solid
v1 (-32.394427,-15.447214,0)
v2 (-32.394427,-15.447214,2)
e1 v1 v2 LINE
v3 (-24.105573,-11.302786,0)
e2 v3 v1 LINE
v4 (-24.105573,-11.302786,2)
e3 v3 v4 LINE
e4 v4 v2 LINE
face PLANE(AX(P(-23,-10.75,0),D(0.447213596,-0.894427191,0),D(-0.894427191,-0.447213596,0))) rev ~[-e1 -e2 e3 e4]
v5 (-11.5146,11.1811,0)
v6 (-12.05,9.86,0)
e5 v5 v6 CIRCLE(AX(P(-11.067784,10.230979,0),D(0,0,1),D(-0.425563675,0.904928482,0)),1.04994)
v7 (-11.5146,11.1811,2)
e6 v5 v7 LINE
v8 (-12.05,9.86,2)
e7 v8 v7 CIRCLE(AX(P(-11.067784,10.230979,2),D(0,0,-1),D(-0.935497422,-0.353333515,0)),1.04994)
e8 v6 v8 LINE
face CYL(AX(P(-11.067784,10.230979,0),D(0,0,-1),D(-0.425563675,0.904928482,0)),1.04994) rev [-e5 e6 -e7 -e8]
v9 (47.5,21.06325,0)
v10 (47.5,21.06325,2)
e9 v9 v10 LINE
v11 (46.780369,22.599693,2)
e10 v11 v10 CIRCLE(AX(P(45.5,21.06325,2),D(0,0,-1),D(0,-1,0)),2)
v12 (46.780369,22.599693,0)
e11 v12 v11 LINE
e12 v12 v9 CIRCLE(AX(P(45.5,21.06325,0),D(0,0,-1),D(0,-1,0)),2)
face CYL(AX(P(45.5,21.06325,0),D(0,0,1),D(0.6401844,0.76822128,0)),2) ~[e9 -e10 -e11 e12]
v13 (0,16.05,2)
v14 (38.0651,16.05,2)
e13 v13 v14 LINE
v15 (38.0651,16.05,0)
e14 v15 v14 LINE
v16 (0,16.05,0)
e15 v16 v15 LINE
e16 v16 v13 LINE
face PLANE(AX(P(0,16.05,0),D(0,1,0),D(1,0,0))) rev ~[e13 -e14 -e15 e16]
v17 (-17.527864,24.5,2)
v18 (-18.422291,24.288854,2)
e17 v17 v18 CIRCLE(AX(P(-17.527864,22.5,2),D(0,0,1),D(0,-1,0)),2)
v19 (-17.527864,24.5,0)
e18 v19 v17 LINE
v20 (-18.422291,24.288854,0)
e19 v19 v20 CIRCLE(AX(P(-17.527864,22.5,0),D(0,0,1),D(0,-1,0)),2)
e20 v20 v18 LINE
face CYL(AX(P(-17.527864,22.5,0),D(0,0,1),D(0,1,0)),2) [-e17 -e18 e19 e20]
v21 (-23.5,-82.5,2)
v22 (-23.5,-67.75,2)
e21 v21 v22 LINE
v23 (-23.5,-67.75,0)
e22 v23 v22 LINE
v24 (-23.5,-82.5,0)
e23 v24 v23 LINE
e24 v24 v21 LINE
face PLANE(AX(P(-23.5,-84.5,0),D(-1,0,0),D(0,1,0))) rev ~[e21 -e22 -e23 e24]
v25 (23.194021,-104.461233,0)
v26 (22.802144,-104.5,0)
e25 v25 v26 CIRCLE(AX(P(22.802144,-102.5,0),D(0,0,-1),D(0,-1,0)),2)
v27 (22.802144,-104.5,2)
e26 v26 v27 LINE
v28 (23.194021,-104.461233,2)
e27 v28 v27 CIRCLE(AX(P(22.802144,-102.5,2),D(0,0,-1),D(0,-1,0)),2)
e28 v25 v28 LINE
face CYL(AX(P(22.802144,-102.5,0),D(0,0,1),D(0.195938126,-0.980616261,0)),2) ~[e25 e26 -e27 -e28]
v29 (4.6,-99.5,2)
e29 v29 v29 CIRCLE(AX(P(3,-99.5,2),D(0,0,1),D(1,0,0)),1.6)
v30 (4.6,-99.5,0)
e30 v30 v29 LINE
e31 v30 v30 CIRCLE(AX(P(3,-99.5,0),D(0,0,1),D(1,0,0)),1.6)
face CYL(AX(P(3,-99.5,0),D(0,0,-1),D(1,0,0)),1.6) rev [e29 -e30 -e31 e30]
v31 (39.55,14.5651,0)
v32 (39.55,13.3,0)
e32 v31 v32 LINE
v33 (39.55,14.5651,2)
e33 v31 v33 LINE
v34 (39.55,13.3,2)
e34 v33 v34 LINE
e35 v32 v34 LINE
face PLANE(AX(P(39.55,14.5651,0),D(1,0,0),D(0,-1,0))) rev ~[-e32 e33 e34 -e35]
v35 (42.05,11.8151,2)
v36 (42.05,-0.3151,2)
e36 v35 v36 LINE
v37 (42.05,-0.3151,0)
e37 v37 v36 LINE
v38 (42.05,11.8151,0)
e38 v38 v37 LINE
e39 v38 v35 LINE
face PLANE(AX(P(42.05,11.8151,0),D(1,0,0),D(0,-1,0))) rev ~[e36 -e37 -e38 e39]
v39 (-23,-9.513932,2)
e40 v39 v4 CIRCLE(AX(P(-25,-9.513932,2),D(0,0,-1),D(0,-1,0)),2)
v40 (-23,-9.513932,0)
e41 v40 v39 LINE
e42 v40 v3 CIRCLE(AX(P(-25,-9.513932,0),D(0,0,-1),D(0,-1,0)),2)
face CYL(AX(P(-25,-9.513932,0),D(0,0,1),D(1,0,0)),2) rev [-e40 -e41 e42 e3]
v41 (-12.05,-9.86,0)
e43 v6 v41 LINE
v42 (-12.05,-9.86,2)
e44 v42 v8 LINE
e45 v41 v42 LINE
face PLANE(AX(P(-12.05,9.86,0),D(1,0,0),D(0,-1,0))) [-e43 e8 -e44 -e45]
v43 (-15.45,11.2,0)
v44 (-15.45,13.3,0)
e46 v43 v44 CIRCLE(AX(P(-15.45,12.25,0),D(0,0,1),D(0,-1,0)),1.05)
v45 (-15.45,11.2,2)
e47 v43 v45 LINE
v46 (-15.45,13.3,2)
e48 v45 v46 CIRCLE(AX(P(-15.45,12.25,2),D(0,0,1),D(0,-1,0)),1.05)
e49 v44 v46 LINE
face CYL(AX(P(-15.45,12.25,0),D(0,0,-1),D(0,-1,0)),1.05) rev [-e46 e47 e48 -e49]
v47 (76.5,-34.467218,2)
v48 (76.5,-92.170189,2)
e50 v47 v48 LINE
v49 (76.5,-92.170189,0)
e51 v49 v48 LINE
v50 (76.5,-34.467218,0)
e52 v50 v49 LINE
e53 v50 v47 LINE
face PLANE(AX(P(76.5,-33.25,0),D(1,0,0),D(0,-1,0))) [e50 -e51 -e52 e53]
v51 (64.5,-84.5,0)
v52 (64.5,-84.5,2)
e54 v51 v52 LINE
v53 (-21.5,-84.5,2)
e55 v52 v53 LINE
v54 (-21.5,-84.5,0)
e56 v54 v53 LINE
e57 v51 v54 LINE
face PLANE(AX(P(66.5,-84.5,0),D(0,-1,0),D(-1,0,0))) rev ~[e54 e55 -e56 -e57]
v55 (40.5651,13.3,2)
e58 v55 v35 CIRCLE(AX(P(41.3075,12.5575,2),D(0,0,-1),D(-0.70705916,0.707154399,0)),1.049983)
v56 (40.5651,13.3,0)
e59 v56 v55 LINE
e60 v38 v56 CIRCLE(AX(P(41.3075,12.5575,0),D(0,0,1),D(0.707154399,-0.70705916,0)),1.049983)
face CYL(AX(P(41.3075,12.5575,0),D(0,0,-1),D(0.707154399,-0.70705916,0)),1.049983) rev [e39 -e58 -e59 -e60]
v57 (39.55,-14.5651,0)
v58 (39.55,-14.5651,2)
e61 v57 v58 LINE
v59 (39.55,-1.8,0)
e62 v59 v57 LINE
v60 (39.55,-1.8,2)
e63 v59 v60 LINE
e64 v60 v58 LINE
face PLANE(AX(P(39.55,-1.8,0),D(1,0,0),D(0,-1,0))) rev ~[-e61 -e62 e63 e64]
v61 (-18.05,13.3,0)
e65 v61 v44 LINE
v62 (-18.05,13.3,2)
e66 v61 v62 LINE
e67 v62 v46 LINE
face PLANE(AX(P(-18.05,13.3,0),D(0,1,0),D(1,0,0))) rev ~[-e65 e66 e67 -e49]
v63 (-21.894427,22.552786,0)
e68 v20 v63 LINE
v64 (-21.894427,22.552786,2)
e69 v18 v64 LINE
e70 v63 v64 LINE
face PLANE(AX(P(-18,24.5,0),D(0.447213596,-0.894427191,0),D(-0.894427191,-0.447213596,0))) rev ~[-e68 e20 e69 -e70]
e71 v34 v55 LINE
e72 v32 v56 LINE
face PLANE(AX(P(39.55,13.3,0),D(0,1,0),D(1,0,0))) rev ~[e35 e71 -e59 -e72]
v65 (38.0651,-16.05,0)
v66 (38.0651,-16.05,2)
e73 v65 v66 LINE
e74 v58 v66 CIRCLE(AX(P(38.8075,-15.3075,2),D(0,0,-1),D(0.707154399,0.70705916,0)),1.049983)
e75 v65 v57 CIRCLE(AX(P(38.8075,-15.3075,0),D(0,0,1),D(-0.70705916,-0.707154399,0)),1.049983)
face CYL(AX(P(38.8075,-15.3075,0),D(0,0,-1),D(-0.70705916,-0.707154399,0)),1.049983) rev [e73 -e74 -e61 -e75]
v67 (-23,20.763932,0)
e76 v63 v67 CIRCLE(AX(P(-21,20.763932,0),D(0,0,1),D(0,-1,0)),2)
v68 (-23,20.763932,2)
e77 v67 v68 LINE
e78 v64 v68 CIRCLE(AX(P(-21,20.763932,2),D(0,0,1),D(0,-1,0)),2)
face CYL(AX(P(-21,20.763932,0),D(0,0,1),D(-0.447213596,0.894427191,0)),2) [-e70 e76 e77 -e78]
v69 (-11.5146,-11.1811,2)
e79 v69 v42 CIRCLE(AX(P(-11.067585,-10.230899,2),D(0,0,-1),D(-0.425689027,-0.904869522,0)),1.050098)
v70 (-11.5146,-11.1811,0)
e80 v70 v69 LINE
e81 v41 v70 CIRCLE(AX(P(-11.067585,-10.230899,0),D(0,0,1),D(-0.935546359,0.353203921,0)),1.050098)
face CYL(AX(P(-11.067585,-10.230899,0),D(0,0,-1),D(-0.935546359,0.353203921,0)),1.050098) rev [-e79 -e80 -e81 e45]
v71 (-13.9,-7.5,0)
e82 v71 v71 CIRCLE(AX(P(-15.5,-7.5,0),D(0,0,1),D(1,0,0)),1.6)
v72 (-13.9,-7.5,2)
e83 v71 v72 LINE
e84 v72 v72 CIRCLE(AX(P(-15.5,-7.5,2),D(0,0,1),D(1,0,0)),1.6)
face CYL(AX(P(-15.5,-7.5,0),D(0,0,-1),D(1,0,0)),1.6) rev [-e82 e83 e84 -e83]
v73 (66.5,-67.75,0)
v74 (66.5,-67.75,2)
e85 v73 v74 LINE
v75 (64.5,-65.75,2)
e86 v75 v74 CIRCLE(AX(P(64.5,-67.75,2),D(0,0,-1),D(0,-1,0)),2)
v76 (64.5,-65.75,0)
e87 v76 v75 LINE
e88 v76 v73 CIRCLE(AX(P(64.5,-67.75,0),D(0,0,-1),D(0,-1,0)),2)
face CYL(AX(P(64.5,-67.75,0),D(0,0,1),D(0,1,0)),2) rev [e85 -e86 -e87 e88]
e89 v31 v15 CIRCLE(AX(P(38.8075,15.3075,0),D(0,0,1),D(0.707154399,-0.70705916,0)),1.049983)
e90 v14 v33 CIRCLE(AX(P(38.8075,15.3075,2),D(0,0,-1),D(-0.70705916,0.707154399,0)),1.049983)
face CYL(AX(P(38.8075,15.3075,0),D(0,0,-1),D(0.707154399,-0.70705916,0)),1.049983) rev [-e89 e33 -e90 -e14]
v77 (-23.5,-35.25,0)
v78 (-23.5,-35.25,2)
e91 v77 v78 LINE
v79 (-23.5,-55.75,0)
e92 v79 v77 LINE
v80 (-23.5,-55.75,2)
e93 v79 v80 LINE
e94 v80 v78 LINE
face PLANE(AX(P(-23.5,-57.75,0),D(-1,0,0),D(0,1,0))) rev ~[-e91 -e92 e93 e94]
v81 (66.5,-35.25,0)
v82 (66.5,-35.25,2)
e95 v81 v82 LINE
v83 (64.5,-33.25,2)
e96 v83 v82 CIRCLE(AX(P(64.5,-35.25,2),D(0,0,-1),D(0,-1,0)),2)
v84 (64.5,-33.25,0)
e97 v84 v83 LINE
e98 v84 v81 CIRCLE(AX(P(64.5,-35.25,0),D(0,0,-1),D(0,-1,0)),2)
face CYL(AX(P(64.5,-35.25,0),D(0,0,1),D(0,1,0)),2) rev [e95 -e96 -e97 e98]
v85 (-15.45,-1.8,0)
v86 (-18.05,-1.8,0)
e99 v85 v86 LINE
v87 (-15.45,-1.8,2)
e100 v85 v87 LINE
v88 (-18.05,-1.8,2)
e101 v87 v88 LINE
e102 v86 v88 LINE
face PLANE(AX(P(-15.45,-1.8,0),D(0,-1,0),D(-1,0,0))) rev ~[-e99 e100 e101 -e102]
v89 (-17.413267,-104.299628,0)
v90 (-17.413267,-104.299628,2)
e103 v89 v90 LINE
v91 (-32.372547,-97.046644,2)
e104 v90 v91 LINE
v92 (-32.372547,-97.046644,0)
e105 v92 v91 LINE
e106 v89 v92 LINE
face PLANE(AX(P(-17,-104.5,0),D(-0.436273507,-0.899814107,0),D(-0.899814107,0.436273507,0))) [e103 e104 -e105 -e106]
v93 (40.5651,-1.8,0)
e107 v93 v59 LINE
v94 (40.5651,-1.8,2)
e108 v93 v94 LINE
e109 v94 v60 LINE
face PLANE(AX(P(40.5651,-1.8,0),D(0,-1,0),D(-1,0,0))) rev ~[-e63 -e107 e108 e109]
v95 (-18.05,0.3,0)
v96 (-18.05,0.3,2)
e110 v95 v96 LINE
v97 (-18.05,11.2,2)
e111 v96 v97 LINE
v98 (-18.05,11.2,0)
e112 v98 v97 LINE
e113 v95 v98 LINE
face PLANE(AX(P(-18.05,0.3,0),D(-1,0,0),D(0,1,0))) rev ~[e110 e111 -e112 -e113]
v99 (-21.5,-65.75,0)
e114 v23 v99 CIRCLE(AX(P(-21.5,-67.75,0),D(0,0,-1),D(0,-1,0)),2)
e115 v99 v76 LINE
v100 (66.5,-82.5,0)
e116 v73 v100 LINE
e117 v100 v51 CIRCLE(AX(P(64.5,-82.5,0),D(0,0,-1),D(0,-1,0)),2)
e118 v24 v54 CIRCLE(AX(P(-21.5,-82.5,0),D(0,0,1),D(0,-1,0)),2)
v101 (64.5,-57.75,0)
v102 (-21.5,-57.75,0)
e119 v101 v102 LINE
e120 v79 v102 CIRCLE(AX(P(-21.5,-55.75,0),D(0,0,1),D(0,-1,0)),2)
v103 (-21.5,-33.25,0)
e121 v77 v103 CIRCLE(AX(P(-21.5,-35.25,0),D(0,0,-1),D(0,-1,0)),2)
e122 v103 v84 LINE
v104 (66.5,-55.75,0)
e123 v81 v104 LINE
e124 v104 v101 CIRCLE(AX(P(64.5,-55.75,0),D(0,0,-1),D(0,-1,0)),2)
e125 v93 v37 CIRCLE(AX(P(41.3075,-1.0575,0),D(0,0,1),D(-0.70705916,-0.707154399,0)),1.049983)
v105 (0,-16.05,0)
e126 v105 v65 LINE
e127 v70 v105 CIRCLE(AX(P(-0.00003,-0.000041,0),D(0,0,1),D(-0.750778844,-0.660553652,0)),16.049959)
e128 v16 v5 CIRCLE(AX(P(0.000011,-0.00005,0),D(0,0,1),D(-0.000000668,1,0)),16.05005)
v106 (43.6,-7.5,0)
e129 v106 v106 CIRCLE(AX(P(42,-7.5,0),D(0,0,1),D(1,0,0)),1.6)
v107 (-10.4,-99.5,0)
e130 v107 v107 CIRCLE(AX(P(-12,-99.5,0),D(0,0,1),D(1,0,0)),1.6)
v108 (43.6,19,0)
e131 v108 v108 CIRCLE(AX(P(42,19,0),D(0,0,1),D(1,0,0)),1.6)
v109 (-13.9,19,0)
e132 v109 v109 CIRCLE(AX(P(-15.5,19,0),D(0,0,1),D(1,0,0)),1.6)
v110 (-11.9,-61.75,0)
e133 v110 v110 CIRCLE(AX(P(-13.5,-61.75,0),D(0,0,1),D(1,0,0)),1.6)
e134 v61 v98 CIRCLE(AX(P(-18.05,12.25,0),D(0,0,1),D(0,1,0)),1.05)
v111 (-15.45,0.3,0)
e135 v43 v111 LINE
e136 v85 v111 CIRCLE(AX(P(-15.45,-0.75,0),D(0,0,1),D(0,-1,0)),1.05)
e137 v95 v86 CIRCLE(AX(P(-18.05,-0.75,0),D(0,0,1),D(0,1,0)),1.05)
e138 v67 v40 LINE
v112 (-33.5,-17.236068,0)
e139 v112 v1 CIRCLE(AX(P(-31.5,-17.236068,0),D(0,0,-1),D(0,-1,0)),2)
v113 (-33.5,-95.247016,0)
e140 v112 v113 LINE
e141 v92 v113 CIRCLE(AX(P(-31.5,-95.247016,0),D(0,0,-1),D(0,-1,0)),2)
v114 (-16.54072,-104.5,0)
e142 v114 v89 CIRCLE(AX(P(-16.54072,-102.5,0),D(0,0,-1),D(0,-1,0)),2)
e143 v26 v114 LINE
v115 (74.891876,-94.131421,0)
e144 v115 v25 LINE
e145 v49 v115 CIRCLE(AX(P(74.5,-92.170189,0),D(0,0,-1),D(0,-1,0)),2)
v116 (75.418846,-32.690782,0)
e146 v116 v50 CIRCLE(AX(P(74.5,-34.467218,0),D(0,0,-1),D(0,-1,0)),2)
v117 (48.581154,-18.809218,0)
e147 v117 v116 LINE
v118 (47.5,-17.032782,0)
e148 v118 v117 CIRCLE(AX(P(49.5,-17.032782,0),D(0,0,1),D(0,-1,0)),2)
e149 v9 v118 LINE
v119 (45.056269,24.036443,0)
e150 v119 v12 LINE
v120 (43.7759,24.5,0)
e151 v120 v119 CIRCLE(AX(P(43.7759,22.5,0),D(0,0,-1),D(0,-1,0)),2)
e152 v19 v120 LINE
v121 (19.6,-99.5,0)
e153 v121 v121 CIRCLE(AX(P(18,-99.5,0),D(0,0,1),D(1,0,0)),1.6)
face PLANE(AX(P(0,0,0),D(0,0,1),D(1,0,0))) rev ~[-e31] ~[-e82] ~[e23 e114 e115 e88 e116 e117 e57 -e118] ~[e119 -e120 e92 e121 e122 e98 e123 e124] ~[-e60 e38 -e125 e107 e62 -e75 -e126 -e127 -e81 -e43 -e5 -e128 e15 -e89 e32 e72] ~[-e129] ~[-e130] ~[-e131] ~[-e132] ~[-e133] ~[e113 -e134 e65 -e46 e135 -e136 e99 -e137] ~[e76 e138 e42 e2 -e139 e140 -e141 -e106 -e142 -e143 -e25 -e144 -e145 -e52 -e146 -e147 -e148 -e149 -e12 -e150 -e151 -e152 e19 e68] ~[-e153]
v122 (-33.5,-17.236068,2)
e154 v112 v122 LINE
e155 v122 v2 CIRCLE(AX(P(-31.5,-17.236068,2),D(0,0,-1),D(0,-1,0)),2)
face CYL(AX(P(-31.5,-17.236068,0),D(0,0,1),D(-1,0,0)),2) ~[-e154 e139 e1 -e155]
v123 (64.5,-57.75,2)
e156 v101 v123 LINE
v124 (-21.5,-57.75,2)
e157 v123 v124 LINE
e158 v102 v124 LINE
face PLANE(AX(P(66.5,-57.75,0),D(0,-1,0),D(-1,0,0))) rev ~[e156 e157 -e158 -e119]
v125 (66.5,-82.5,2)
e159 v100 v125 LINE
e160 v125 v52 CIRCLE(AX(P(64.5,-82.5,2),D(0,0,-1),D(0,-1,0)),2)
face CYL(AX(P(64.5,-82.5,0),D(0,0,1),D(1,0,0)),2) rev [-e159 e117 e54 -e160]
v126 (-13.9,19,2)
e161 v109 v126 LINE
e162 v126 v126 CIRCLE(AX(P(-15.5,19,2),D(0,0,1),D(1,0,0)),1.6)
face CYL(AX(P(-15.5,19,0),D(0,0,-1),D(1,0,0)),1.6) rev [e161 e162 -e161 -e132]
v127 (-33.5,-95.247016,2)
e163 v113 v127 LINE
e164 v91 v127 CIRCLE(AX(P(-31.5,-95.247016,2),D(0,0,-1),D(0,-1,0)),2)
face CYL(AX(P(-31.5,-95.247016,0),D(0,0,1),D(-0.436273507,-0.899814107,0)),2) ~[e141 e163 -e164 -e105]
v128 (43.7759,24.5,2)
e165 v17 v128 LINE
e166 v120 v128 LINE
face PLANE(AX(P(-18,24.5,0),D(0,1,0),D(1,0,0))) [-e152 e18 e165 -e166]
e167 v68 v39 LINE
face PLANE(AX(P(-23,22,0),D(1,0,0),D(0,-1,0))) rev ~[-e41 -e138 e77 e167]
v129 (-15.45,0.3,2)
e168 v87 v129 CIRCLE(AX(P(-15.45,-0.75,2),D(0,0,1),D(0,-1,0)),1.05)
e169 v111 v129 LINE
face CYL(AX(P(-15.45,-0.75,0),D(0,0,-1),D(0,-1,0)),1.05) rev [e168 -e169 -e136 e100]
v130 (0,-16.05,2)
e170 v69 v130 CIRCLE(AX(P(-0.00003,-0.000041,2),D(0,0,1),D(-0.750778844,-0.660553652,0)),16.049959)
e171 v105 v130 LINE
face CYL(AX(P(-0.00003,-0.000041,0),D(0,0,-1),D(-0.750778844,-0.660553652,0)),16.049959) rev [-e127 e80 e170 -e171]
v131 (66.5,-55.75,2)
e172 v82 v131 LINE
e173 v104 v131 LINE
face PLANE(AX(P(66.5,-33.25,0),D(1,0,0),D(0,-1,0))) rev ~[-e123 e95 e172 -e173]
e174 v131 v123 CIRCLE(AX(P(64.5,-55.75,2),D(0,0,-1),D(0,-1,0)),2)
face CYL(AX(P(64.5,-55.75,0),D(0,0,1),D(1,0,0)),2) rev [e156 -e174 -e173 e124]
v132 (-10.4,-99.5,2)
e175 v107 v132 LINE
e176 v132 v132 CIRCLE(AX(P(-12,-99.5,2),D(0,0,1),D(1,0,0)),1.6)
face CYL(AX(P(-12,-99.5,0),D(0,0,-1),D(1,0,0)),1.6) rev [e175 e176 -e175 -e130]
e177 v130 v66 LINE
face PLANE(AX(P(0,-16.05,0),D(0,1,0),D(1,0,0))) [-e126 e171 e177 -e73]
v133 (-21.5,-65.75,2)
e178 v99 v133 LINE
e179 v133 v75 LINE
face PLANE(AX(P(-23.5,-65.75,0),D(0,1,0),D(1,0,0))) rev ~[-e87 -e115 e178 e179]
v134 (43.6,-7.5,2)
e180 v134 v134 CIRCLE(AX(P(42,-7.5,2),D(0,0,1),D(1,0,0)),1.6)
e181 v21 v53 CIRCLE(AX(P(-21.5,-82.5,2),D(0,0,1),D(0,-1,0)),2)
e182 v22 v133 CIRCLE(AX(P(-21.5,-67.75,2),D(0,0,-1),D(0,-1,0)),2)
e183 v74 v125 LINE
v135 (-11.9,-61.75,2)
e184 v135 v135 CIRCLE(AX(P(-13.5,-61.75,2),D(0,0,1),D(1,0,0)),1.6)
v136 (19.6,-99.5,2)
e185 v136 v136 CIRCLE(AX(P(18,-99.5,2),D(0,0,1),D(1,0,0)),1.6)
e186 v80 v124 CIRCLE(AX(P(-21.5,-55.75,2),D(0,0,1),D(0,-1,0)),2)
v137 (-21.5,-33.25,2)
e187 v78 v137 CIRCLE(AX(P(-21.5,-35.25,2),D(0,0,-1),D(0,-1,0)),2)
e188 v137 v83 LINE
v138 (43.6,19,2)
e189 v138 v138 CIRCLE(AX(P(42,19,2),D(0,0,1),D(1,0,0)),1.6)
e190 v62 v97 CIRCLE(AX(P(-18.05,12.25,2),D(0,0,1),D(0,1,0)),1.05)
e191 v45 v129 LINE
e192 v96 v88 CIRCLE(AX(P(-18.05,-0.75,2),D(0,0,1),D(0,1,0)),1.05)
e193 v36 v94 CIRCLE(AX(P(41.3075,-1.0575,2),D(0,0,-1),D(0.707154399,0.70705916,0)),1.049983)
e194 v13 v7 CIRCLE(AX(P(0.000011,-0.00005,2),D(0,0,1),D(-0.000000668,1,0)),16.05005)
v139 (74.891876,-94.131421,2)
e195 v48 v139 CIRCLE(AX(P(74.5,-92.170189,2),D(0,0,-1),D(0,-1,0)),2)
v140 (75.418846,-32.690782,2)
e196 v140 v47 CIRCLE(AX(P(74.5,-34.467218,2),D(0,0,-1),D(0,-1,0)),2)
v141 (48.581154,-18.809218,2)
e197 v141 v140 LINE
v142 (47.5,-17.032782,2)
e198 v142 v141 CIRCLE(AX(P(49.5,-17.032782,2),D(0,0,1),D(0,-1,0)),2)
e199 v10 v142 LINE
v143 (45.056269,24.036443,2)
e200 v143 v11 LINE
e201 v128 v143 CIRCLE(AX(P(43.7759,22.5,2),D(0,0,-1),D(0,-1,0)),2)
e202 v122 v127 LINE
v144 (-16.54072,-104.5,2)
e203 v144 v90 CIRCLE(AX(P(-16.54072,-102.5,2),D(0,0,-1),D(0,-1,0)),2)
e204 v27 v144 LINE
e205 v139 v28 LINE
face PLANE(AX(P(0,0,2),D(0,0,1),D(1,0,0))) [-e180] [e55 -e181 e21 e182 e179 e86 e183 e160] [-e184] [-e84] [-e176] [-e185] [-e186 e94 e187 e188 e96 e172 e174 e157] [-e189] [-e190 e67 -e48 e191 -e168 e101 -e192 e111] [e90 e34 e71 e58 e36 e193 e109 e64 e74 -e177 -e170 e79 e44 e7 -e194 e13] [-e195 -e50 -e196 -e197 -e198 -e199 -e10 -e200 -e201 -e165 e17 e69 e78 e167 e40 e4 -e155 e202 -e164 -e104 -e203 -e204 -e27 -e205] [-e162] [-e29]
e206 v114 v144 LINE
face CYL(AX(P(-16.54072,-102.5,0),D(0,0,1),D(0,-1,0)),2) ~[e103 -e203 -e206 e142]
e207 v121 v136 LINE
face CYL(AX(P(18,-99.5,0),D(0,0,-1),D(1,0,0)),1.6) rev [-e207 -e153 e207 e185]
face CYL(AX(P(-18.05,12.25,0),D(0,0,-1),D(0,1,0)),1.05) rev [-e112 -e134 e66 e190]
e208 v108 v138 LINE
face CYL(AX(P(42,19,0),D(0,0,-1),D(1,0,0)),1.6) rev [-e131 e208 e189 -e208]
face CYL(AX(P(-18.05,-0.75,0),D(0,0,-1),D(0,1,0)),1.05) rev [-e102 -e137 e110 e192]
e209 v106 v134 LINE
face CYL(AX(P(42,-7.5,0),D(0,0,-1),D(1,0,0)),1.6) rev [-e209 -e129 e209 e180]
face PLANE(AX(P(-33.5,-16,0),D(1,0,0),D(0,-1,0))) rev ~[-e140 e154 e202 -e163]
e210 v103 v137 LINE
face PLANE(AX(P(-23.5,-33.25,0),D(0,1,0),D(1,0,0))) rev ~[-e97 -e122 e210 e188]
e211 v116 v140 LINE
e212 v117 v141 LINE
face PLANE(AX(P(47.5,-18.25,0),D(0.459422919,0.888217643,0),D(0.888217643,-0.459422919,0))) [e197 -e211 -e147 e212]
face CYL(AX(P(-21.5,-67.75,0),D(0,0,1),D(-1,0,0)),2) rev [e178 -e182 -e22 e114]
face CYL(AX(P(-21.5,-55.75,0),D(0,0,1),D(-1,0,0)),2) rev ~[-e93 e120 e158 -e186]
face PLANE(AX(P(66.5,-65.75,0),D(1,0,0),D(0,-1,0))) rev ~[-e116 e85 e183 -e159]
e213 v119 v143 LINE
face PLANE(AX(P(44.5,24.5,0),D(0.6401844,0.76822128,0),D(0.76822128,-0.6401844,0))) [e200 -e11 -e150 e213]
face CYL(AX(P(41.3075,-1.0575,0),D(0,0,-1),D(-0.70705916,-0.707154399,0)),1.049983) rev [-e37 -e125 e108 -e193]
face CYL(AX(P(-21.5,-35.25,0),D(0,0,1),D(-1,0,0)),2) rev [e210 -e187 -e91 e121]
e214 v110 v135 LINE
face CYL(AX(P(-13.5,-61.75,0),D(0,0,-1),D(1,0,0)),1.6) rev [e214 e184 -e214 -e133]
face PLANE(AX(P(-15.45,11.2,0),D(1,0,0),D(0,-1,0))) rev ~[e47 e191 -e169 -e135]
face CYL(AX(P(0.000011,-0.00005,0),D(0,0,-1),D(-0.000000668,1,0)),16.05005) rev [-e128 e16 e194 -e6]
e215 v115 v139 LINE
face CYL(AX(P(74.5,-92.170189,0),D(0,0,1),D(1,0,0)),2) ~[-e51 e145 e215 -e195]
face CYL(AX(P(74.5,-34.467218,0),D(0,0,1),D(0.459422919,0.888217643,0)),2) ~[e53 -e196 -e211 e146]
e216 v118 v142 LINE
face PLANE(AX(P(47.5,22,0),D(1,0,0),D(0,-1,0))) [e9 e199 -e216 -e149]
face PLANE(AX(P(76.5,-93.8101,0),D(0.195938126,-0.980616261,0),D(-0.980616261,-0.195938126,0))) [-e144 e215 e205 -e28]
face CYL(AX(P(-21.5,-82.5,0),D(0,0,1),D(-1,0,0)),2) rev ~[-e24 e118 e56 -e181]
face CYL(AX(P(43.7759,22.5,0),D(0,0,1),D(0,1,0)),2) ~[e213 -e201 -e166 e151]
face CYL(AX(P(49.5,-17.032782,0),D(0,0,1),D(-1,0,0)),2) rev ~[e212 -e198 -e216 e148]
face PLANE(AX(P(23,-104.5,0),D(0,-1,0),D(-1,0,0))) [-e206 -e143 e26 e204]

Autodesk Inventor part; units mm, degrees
ref_plane "YZ Plane" through (0, 0, 0) normal (1, 0, 0) x (0, 1, 0)
ref_plane "XZ Plane" through (0, 0, 0) normal (0, 1, 0) x (-1, 0, 0)
ref_plane "XY Plane" through (0, 0, 0) normal (0, 0, 1) x (1, 0, 0)
sketch "スケッチ1" plane through (0, 0, 0) normal (0, 0, 1) x (1, 0, 0)
  circle A0 centre (0, 0) radius 11
  line L0 (-0.3073, 13.5) -> (26.6927, 13.5) construction
  line L1 (26.6927, 13.5) -> (26.6927, -13.5) construction
  line L2 (26.6927, -13.5) -> (-0.3073, -13.5) construction
  line L3 (-0.3073, -13.5) -> (-0.3073, 13.5) construction
  line L4 (-0.3073, 13.5) -> (26.6927, -13.5) construction
  line L5 (26.6927, 13.5) -> (-0.3073, -13.5) construction
  line L6 (-12, 16) -> (39.5, 16) construction
  line L7 (39.5, 16) -> (39.5, -16) construction
  line L8 (39.5, -16) -> (-12, -16) construction
  line L9 (-12, -16) -> (-12, 16) construction
  line L10 (-12, 16) -> (39.5, -16) construction
  line L11 (39.5, 16) -> (-12, -16) construction
  circle A1 centre (-0.3073, 13.5) radius 1.35
  arc A2 (0, 16) -> (-12, 10.583) centre (0, 0) ccw construction
  line L12 (-12, 0) -> (39.5, 0)
  circle A3 centre (26.6927, 13.5) radius 1.35
  arc A4 (-12, -10.583) -> (0, -16) centre (0, 0) ccw construction
  circle A5 centre (-0.3073, -13.5) radius 1.35
  circle A6 centre (26.6927, -13.5) radius 1.35
  arc A7 (0, 16.05) -> (-12.05, 10.6019) centre (0, 0) ccw
  line L13 (0, 16.05) -> (39.55, 16.05)
  line L14 (39.55, 16.05) -> (39.55, 13.3)
  line L15 (-12.05, 10.6019) -> (-12.05, 0)
  arc A8 (-11.5146, 11.1811) -> (-12.05, 9.86) centre (-11.0677, 10.2309) ccw
  line L16 (-12.05, 10.6019) -> (-11.0677, 10.2309) construction
  arc A9 (39.55, 14.5651) -> (38.0651, 16.05) centre (38.8075, 15.3075) ccw
  line L17 (38.8075, 15.3075) -> (39.55, 16.05) construction
  arc A10 (-12.05, -10.6019) -> (0, -16.05) centre (0, 0) ccw
  line L18 (0, -16.05) -> (39.55, -16.05)
  line L19 (-12.05, -10.6019) -> (-12.05, 0)
  arc A11 (-12.05, -9.86) -> (-11.5146, -11.1811) centre (-11.0677, -10.2309) ccw
  arc A12 (38.0651, -16.05) -> (39.55, -14.5651) centre (38.8075, -15.3075) ccw
  line L20 (39.55, 13.3) -> (42.05, 13.3)
  line L21 (42.05, 13.3) -> (42.05, -1.8)
  line L22 (42.05, -1.8) -> (39.55, -1.8)
  line L23 (39.55, -1.8) -> (39.55, -14.5651)
  line L24 (39.5, 13.25) -> (42, 13.25) construction
  line L25 (42, 13.25) -> (42, -1.75) construction
  line L26 (42, -1.75) -> (39.5, -1.75) construction
  line L27 (42, 5.75) -> (39.5, 5.75) construction
  arc A13 (42.05, 11.8151) -> (40.5651, 13.3) centre (41.3075, 12.5575) ccw
  line L28 (41.3075, 12.5575) -> (42.05, 13.3) construction
  arc A14 (40.5651, -1.8) -> (42.05, -0.3151) centre (41.3075, -1.0575) ccw
  circle A15 centre (-15.5, 19) radius 1.6
  line L29 (-18, 22) -> (-13, 22) construction
  line L30 (-13, 22) -> (-13, -10.5) construction
  line L31 (-13, -10.5) -> (-18, -10.5) construction
  line L32 (-18, -10.5) -> (-18, 22) construction
  line L33 (-18, 22) -> (-13, -10.5) construction
  line L34 (-13, 22) -> (-18, -10.5) construction
  line L35 (-18, 5.75) -> (-13, 5.75) construction
  line L36 (-15.5, 22) -> (-15.5, -10.5) construction
  line L37 (-18, 13.25) -> (-15.5, 13.25) construction
  line L38 (-15.5, 13.25) -> (-15.5, -1.75) construction
  line L39 (-15.5, -1.75) -> (-18, -1.75) construction
  line L40 (-18, 13.25) -> (-15.5, -1.75) construction
  line L41 (-15.5, 13.25) -> (-18, -1.75) construction
  line L42 (-15.45, -1.8) -> (-18.05, -1.8)
  line L43 (-18.05, -1.8) -> (-18.05, 13.3)
  line L44 (-18.05, 13.3) -> (-15.45, 13.3)
  line L45 (-15.45, 13.3) -> (-15.45, -1.8)
  line L46 (-15.45, -1.8) -> (-18.05, 13.3) construction
  line L47 (-18.05, -1.8) -> (-15.45, 13.3) construction
  line L48 (-16.75, 13.3) -> (-16.75, -1.8) construction
  arc A16 (-18.05, 13.3) -> (-18.05, 11.2) centre (-18.05, 12.25) ccw
  arc A17 (-15.45, 11.2) -> (-15.45, 13.3) centre (-15.45, 12.25) ccw
  arc A18 (-18.05, 0.3) -> (-18.05, -1.8) centre (-18.05, -0.75) ccw
  arc A19 (-15.45, -1.8) -> (-15.45, 0.3) centre (-15.45, -0.75) ccw
  circle A20 centre (-15.5, -7.5) radius 1.6
  line L49 (13.1927, 16) -> (13.1927, -16) construction
  circle A21 centre (42, 19) radius 1.6
  line L50 (39.5, 22) -> (44.5, 22) construction
  line L51 (44.5, 22) -> (44.5, -10.5) construction
  line L52 (44.5, -10.5) -> (39.5, -10.5) construction
  line L53 (39.5, 22) -> (44.5, -10.5) construction
  line L54 (44.5, 22) -> (39.5, -10.5) construction
  line L55 (42, 22) -> (42, -10.5) construction
  circle A22 centre (42, -7.5) radius 1.6
  line L56 (-12, 23.25) -> (-12, 18.25) construction
  line L57 (-18, 24.5) -> (44.5, 24.5)
  line L58 (-18, 24.5) -> (-23, 22)
  line L59 (44.5, 24.5) -> (47.5, 22)
  line L60 (-23, 22) -> (-23, -10.75)
  line L61 (47.5, 22) -> (47.5, -18.25)
  line L62 (47.5, -18.25) -> (76.5, -33.25)
  line L63 (-23, -10.75) -> (-33.5, -16)
  line L64 (-33.5, -16) -> (-33.5, -96.5)
  line L65 (76.5, -33.25) -> (76.5, -93.8101)
  line L66 (76.5, -93.8101) -> (23, -104.5)
  line L67 (23, -104.5) -> (-17, -104.5)
  line L68 (-17, -104.5) -> (-33.5, -96.5)
  circle A23 centre (-12, -99.5) radius 1.6
  circle A24 centre (3, -99.5) radius 1.6
  line L69 (-17, -104.5) -> (-17, -94.5) construction
  line L70 (-17, -94.5) -> (23, -94.5) construction
  line L71 (23, -94.5) -> (23, -104.5) construction
  line L72 (-17, -99.5) -> (23, -99.5) construction
  line L73 (3, -94.5) -> (3, -104.5) construction
  circle A25 centre (18, -99.5) radius 1.6
  circle A26 centre (-13.5, -61.75) radius 1.6
  line L74 (-23.5, -65.75) -> (66.5, -65.75)
  line L75 (66.5, -65.75) -> (66.5, -84.5)
  line L76 (66.5, -84.5) -> (-23.5, -84.5)
  line L77 (-23.5, -84.5) -> (-23.5, -65.75)
  line L78 (-23.5, -33.25) -> (66.5, -33.25)
  line L79 (66.5, -33.25) -> (66.5, -57.75)
  line L80 (66.5, -57.75) -> (-23.5, -57.75)
  line L81 (-23.5, -57.75) -> (-23.5, -33.25)
  circle A27 centre (-13.5, -61.75) radius 4 construction
  line L82 (-9.8584, -97.6093) -> (-9.2918, -98.5907)
  line L83 (-9.2918, -100.4093) -> (-9.8584, -101.3907)
  line L84 (-11.4334, -102.3) -> (-12.5666, -102.3)
  line L85 (-14.1416, -101.3907) -> (-14.7082, -100.4093)
  line L86 (-14.7082, -98.5907) -> (-14.1416, -97.6093)
  line L87 (-12.5666, -96.7) -> (-11.4334, -96.7)
  arc A28 (-9.8584, -97.6093) -> (-11.4334, -96.7) centre (-10.9084, -97.6093) ccw
  arc A29 (-12.5666, -96.7) -> (-14.1416, -97.6093) centre (-13.0916, -97.6093) ccw
  arc A30 (-14.7082, -98.5907) -> (-14.7082, -100.4093) centre (-14.1832, -99.5) ccw
  arc A31 (-14.1416, -101.3907) -> (-12.5666, -102.3) centre (-13.0916, -101.3907) ccw
  arc A32 (-11.4334, -102.3) -> (-9.8584, -101.3907) centre (-10.9084, -101.3907) ccw
  arc A33 (-9.2918, -100.4093) -> (-9.2918, -98.5907) centre (-9.8168, -99.5) ccw
  arc A34 (5.7082, -100.4093) -> (5.7082, -98.5907) centre (5.1832, -99.5) ccw
  line L88 (5.1416, -97.6093) -> (5.7082, -98.5907)
  line L89 (5.7082, -100.4093) -> (5.1416, -101.3907)
  arc A35 (3.5666, -102.3) -> (5.1416, -101.3907) centre (4.0916, -101.3907) ccw
  arc A36 (5.1416, -97.6093) -> (3.5666, -96.7) centre (4.0916, -97.6093) ccw
  line L90 (2.4334, -96.7) -> (3.5666, -96.7)
  arc A37 (2.4334, -96.7) -> (0.8584, -97.6093) centre (1.9084, -97.6093) ccw
  line L91 (0.2918, -98.5907) -> (0.8584, -97.6093)
  arc A38 (0.2918, -98.5907) -> (0.2918, -100.4093) centre (0.8168, -99.5) ccw
  line L92 (0.8584, -101.3907) -> (0.2918, -100.4093)
  arc A39 (0.8584, -101.3907) -> (2.4334, -102.3) centre (1.9084, -101.3907) ccw
  line L93 (3.5666, -102.3) -> (2.4334, -102.3)
  arc A40 (20.7082, -100.4093) -> (20.7082, -98.5907) centre (20.1832, -99.5) ccw
  line L94 (20.1416, -97.6093) -> (20.7082, -98.5907)
  line L95 (20.7082, -100.4093) -> (20.1416, -101.3907)
  arc A41 (18.5666, -102.3) -> (20.1416, -101.3907) centre (19.0916, -101.3907) ccw
  arc A42 (20.1416, -97.6093) -> (18.5666, -96.7) centre (19.0916, -97.6093) ccw
  line L96 (17.4334, -96.7) -> (18.5666, -96.7)
  arc A43 (17.4334, -96.7) -> (15.8584, -97.6093) centre (16.9084, -97.6093) ccw
  line L97 (15.2918, -98.5907) -> (15.8584, -97.6093)
  arc A44 (15.2918, -98.5907) -> (15.2918, -100.4093) centre (15.8168, -99.5) ccw
  line L98 (15.8584, -101.3907) -> (15.2918, -100.4093)
  arc A45 (15.8584, -101.3907) -> (17.4334, -102.3) centre (16.9084, -101.3907) ccw
  line L99 (18.5666, -102.3) -> (17.4334, -102.3)
  point P0 (13.1927, 0)
  point P1 (-15.5, 5.75)
  point P2 (-16.75, 5.75)
  point P3 (13.1927, 0)
  point P4 (42, 5.75)
  point P5 (42, 5.75)
  point P6 (-18.05, 0.3)
  point P7 (-15.45, 0.3)
  point P8 (42.05, -0.3151)
  point P9 (40.5651, -1.8)
  point P10 (-10.3834, -96.7)
  point P11 (-13.6166, -96.7)
  point P12 (-15.2332, -99.5)
  point P13 (-13.6166, -102.3)
  point P14 (-10.3834, -102.3)
  point P15 (-8.7668, -99.5)
  point P16 (-13.6166, -96.7)
  point P17 (-15.2332, -99.5)
  point P18 (-8.7668, -99.5)
  point P19 (3, -99.5)
  point P20 (6.2332, -99.5)
  point P21 (6.2332, -99.5)
  point P22 (4.6166, -96.7)
  point P23 (4.6166, -102.3)
  point P24 (3, -99.5)
  point P25 (3, -99.5)
  point P26 (1.3834, -96.7)
  point P27 (1.3834, -96.7)
  point P28 (-0.2332, -99.5)
  point P29 (-0.2332, -99.5)
  point P30 (1.3834, -102.3)
  point P31 (18, -99.5)
  point P32 (21.2332, -99.5)
  point P33 (21.2332, -99.5)
  point P34 (19.6166, -96.7)
  point P35 (19.6166, -102.3)
  point P36 (18, -99.5)
  point P37 (18, -99.5)
  point P38 (16.3834, -96.7)
  point P39 (16.3834, -96.7)
  point P40 (14.7668, -99.5)
  point P41 (14.7668, -99.5)
  point P42 (16.3834, -102.3)
  dimension "d0" = 22
  dimension "d1" = 27
  dimension "d2" = 27
  dimension "d5" = 32
  dimension "d8" = 2.7
  dimension "d9" = 16
  dimension "d10" = 2.7
  dimension "d13" = 12
  dimension "d16" = 0.05
  dimension "d17" = 1.05
  dimension "d18" = 0.05
  dimension "d19" = 1.05
  dimension "d21" = 15
  dimension "d23" = 0.05
  dimension "d24" = 0.05
  dimension "d25" = 0.05
  dimension "d26" = 1.05
  dimension "d27" = 3.2
  dimension "d28" = 5
  dimension "d29" = 2.5
  dimension "d30" = 15
  dimension "d32" = 2.6
  dimension "d33" = 15.1
  dimension "d34" = 1.05
  dimension "d35" = 26.5
  dimension "d36" = 5.5
  dimension "d37" = 2.5
  dimension "d38" = 3.2
  dimension "d39" = 5
  dimension "d40" = 32.5
  dimension "d41" = 26.5
  dimension "d55" = 5
  dimension "d56" = 3
  dimension "d57" = 20.5
  dimension "d60" = 40
  dimension "d61" = 8
  dimension "d63" = 3.2
  dimension "d64" = 3.2
  dimension "d66" = 10
  dimension "d70" = 30
  dimension "d71" = 3.2
  dimension "d72" = 32.75
  dimension "d73" = 20
  dimension "d74" = 8
  dimension "d75" = 10
  dimension "d77" = 10
  dimension "d78" = 10
  dimension "d87" = 1.05
  dimension "d88" = 360
  dimension "d89" = 5.6
  dimension "d92" = 15
  dimension "d97" = 120.5
  dimension "d98" = 1
  dimension "d100" = 110
  dimension "d101" = 2.5
extrude "押し出し1" add sketch "スケッチ1" along normal blind 2 contours L57 L59 L61 L62 L65 L66 L67 L68 L64 L63 L60 L58 | L82 A33 L83 A32 L84 A31 L85 A30 L86 A29 L87 A28 | L89 A35 L93 A39 L92 A38 L91 A37 L90 A36 L88 A34 | L95 A41 L99 A45 L98 A44 L97 A43 L96 A42 L94 A40
fillet "フィレット1" radius 2 12 edges at (-17, -104.5, 1) (-33.5, -96.5, 1) (-33.5, -16, 1) (-23, -10.75, 1) (23, -104.5, 1) (76.5, -93.8101, 1) (76.5, -33.25, 1) (47.5, -18.25, 1) (47.5, 22, 1) (44.5, 24.5, 1) (-23, 22, 1) (-18, 24.5, 1)
fillet "フィレット2" radius 2 8 edges at (-23.5, -33.25, 1) (-23.5, -57.75, 1) (66.5, -57.75, 1) (66.5, -33.25, 1) (-23.5, -84.5, 1) (-23.5, -65.75, 1) (66.5, -84.5, 1) (66.5, -65.75, 1)
equation "\"d10\" = d8"
equation "\"d16\" = d15"
equation "\"d18\" = d15"
equation "\"d19\" = d17"
equation "\"d23\" = d15"
equation "\"d24\" = d23"
equation "\"d25\" = d15"
equation "\"d26\" = d17"
equation "\"d15\" = 0.05"
properties part number "Trunk_upper_flank_frame" material "GFRP"
